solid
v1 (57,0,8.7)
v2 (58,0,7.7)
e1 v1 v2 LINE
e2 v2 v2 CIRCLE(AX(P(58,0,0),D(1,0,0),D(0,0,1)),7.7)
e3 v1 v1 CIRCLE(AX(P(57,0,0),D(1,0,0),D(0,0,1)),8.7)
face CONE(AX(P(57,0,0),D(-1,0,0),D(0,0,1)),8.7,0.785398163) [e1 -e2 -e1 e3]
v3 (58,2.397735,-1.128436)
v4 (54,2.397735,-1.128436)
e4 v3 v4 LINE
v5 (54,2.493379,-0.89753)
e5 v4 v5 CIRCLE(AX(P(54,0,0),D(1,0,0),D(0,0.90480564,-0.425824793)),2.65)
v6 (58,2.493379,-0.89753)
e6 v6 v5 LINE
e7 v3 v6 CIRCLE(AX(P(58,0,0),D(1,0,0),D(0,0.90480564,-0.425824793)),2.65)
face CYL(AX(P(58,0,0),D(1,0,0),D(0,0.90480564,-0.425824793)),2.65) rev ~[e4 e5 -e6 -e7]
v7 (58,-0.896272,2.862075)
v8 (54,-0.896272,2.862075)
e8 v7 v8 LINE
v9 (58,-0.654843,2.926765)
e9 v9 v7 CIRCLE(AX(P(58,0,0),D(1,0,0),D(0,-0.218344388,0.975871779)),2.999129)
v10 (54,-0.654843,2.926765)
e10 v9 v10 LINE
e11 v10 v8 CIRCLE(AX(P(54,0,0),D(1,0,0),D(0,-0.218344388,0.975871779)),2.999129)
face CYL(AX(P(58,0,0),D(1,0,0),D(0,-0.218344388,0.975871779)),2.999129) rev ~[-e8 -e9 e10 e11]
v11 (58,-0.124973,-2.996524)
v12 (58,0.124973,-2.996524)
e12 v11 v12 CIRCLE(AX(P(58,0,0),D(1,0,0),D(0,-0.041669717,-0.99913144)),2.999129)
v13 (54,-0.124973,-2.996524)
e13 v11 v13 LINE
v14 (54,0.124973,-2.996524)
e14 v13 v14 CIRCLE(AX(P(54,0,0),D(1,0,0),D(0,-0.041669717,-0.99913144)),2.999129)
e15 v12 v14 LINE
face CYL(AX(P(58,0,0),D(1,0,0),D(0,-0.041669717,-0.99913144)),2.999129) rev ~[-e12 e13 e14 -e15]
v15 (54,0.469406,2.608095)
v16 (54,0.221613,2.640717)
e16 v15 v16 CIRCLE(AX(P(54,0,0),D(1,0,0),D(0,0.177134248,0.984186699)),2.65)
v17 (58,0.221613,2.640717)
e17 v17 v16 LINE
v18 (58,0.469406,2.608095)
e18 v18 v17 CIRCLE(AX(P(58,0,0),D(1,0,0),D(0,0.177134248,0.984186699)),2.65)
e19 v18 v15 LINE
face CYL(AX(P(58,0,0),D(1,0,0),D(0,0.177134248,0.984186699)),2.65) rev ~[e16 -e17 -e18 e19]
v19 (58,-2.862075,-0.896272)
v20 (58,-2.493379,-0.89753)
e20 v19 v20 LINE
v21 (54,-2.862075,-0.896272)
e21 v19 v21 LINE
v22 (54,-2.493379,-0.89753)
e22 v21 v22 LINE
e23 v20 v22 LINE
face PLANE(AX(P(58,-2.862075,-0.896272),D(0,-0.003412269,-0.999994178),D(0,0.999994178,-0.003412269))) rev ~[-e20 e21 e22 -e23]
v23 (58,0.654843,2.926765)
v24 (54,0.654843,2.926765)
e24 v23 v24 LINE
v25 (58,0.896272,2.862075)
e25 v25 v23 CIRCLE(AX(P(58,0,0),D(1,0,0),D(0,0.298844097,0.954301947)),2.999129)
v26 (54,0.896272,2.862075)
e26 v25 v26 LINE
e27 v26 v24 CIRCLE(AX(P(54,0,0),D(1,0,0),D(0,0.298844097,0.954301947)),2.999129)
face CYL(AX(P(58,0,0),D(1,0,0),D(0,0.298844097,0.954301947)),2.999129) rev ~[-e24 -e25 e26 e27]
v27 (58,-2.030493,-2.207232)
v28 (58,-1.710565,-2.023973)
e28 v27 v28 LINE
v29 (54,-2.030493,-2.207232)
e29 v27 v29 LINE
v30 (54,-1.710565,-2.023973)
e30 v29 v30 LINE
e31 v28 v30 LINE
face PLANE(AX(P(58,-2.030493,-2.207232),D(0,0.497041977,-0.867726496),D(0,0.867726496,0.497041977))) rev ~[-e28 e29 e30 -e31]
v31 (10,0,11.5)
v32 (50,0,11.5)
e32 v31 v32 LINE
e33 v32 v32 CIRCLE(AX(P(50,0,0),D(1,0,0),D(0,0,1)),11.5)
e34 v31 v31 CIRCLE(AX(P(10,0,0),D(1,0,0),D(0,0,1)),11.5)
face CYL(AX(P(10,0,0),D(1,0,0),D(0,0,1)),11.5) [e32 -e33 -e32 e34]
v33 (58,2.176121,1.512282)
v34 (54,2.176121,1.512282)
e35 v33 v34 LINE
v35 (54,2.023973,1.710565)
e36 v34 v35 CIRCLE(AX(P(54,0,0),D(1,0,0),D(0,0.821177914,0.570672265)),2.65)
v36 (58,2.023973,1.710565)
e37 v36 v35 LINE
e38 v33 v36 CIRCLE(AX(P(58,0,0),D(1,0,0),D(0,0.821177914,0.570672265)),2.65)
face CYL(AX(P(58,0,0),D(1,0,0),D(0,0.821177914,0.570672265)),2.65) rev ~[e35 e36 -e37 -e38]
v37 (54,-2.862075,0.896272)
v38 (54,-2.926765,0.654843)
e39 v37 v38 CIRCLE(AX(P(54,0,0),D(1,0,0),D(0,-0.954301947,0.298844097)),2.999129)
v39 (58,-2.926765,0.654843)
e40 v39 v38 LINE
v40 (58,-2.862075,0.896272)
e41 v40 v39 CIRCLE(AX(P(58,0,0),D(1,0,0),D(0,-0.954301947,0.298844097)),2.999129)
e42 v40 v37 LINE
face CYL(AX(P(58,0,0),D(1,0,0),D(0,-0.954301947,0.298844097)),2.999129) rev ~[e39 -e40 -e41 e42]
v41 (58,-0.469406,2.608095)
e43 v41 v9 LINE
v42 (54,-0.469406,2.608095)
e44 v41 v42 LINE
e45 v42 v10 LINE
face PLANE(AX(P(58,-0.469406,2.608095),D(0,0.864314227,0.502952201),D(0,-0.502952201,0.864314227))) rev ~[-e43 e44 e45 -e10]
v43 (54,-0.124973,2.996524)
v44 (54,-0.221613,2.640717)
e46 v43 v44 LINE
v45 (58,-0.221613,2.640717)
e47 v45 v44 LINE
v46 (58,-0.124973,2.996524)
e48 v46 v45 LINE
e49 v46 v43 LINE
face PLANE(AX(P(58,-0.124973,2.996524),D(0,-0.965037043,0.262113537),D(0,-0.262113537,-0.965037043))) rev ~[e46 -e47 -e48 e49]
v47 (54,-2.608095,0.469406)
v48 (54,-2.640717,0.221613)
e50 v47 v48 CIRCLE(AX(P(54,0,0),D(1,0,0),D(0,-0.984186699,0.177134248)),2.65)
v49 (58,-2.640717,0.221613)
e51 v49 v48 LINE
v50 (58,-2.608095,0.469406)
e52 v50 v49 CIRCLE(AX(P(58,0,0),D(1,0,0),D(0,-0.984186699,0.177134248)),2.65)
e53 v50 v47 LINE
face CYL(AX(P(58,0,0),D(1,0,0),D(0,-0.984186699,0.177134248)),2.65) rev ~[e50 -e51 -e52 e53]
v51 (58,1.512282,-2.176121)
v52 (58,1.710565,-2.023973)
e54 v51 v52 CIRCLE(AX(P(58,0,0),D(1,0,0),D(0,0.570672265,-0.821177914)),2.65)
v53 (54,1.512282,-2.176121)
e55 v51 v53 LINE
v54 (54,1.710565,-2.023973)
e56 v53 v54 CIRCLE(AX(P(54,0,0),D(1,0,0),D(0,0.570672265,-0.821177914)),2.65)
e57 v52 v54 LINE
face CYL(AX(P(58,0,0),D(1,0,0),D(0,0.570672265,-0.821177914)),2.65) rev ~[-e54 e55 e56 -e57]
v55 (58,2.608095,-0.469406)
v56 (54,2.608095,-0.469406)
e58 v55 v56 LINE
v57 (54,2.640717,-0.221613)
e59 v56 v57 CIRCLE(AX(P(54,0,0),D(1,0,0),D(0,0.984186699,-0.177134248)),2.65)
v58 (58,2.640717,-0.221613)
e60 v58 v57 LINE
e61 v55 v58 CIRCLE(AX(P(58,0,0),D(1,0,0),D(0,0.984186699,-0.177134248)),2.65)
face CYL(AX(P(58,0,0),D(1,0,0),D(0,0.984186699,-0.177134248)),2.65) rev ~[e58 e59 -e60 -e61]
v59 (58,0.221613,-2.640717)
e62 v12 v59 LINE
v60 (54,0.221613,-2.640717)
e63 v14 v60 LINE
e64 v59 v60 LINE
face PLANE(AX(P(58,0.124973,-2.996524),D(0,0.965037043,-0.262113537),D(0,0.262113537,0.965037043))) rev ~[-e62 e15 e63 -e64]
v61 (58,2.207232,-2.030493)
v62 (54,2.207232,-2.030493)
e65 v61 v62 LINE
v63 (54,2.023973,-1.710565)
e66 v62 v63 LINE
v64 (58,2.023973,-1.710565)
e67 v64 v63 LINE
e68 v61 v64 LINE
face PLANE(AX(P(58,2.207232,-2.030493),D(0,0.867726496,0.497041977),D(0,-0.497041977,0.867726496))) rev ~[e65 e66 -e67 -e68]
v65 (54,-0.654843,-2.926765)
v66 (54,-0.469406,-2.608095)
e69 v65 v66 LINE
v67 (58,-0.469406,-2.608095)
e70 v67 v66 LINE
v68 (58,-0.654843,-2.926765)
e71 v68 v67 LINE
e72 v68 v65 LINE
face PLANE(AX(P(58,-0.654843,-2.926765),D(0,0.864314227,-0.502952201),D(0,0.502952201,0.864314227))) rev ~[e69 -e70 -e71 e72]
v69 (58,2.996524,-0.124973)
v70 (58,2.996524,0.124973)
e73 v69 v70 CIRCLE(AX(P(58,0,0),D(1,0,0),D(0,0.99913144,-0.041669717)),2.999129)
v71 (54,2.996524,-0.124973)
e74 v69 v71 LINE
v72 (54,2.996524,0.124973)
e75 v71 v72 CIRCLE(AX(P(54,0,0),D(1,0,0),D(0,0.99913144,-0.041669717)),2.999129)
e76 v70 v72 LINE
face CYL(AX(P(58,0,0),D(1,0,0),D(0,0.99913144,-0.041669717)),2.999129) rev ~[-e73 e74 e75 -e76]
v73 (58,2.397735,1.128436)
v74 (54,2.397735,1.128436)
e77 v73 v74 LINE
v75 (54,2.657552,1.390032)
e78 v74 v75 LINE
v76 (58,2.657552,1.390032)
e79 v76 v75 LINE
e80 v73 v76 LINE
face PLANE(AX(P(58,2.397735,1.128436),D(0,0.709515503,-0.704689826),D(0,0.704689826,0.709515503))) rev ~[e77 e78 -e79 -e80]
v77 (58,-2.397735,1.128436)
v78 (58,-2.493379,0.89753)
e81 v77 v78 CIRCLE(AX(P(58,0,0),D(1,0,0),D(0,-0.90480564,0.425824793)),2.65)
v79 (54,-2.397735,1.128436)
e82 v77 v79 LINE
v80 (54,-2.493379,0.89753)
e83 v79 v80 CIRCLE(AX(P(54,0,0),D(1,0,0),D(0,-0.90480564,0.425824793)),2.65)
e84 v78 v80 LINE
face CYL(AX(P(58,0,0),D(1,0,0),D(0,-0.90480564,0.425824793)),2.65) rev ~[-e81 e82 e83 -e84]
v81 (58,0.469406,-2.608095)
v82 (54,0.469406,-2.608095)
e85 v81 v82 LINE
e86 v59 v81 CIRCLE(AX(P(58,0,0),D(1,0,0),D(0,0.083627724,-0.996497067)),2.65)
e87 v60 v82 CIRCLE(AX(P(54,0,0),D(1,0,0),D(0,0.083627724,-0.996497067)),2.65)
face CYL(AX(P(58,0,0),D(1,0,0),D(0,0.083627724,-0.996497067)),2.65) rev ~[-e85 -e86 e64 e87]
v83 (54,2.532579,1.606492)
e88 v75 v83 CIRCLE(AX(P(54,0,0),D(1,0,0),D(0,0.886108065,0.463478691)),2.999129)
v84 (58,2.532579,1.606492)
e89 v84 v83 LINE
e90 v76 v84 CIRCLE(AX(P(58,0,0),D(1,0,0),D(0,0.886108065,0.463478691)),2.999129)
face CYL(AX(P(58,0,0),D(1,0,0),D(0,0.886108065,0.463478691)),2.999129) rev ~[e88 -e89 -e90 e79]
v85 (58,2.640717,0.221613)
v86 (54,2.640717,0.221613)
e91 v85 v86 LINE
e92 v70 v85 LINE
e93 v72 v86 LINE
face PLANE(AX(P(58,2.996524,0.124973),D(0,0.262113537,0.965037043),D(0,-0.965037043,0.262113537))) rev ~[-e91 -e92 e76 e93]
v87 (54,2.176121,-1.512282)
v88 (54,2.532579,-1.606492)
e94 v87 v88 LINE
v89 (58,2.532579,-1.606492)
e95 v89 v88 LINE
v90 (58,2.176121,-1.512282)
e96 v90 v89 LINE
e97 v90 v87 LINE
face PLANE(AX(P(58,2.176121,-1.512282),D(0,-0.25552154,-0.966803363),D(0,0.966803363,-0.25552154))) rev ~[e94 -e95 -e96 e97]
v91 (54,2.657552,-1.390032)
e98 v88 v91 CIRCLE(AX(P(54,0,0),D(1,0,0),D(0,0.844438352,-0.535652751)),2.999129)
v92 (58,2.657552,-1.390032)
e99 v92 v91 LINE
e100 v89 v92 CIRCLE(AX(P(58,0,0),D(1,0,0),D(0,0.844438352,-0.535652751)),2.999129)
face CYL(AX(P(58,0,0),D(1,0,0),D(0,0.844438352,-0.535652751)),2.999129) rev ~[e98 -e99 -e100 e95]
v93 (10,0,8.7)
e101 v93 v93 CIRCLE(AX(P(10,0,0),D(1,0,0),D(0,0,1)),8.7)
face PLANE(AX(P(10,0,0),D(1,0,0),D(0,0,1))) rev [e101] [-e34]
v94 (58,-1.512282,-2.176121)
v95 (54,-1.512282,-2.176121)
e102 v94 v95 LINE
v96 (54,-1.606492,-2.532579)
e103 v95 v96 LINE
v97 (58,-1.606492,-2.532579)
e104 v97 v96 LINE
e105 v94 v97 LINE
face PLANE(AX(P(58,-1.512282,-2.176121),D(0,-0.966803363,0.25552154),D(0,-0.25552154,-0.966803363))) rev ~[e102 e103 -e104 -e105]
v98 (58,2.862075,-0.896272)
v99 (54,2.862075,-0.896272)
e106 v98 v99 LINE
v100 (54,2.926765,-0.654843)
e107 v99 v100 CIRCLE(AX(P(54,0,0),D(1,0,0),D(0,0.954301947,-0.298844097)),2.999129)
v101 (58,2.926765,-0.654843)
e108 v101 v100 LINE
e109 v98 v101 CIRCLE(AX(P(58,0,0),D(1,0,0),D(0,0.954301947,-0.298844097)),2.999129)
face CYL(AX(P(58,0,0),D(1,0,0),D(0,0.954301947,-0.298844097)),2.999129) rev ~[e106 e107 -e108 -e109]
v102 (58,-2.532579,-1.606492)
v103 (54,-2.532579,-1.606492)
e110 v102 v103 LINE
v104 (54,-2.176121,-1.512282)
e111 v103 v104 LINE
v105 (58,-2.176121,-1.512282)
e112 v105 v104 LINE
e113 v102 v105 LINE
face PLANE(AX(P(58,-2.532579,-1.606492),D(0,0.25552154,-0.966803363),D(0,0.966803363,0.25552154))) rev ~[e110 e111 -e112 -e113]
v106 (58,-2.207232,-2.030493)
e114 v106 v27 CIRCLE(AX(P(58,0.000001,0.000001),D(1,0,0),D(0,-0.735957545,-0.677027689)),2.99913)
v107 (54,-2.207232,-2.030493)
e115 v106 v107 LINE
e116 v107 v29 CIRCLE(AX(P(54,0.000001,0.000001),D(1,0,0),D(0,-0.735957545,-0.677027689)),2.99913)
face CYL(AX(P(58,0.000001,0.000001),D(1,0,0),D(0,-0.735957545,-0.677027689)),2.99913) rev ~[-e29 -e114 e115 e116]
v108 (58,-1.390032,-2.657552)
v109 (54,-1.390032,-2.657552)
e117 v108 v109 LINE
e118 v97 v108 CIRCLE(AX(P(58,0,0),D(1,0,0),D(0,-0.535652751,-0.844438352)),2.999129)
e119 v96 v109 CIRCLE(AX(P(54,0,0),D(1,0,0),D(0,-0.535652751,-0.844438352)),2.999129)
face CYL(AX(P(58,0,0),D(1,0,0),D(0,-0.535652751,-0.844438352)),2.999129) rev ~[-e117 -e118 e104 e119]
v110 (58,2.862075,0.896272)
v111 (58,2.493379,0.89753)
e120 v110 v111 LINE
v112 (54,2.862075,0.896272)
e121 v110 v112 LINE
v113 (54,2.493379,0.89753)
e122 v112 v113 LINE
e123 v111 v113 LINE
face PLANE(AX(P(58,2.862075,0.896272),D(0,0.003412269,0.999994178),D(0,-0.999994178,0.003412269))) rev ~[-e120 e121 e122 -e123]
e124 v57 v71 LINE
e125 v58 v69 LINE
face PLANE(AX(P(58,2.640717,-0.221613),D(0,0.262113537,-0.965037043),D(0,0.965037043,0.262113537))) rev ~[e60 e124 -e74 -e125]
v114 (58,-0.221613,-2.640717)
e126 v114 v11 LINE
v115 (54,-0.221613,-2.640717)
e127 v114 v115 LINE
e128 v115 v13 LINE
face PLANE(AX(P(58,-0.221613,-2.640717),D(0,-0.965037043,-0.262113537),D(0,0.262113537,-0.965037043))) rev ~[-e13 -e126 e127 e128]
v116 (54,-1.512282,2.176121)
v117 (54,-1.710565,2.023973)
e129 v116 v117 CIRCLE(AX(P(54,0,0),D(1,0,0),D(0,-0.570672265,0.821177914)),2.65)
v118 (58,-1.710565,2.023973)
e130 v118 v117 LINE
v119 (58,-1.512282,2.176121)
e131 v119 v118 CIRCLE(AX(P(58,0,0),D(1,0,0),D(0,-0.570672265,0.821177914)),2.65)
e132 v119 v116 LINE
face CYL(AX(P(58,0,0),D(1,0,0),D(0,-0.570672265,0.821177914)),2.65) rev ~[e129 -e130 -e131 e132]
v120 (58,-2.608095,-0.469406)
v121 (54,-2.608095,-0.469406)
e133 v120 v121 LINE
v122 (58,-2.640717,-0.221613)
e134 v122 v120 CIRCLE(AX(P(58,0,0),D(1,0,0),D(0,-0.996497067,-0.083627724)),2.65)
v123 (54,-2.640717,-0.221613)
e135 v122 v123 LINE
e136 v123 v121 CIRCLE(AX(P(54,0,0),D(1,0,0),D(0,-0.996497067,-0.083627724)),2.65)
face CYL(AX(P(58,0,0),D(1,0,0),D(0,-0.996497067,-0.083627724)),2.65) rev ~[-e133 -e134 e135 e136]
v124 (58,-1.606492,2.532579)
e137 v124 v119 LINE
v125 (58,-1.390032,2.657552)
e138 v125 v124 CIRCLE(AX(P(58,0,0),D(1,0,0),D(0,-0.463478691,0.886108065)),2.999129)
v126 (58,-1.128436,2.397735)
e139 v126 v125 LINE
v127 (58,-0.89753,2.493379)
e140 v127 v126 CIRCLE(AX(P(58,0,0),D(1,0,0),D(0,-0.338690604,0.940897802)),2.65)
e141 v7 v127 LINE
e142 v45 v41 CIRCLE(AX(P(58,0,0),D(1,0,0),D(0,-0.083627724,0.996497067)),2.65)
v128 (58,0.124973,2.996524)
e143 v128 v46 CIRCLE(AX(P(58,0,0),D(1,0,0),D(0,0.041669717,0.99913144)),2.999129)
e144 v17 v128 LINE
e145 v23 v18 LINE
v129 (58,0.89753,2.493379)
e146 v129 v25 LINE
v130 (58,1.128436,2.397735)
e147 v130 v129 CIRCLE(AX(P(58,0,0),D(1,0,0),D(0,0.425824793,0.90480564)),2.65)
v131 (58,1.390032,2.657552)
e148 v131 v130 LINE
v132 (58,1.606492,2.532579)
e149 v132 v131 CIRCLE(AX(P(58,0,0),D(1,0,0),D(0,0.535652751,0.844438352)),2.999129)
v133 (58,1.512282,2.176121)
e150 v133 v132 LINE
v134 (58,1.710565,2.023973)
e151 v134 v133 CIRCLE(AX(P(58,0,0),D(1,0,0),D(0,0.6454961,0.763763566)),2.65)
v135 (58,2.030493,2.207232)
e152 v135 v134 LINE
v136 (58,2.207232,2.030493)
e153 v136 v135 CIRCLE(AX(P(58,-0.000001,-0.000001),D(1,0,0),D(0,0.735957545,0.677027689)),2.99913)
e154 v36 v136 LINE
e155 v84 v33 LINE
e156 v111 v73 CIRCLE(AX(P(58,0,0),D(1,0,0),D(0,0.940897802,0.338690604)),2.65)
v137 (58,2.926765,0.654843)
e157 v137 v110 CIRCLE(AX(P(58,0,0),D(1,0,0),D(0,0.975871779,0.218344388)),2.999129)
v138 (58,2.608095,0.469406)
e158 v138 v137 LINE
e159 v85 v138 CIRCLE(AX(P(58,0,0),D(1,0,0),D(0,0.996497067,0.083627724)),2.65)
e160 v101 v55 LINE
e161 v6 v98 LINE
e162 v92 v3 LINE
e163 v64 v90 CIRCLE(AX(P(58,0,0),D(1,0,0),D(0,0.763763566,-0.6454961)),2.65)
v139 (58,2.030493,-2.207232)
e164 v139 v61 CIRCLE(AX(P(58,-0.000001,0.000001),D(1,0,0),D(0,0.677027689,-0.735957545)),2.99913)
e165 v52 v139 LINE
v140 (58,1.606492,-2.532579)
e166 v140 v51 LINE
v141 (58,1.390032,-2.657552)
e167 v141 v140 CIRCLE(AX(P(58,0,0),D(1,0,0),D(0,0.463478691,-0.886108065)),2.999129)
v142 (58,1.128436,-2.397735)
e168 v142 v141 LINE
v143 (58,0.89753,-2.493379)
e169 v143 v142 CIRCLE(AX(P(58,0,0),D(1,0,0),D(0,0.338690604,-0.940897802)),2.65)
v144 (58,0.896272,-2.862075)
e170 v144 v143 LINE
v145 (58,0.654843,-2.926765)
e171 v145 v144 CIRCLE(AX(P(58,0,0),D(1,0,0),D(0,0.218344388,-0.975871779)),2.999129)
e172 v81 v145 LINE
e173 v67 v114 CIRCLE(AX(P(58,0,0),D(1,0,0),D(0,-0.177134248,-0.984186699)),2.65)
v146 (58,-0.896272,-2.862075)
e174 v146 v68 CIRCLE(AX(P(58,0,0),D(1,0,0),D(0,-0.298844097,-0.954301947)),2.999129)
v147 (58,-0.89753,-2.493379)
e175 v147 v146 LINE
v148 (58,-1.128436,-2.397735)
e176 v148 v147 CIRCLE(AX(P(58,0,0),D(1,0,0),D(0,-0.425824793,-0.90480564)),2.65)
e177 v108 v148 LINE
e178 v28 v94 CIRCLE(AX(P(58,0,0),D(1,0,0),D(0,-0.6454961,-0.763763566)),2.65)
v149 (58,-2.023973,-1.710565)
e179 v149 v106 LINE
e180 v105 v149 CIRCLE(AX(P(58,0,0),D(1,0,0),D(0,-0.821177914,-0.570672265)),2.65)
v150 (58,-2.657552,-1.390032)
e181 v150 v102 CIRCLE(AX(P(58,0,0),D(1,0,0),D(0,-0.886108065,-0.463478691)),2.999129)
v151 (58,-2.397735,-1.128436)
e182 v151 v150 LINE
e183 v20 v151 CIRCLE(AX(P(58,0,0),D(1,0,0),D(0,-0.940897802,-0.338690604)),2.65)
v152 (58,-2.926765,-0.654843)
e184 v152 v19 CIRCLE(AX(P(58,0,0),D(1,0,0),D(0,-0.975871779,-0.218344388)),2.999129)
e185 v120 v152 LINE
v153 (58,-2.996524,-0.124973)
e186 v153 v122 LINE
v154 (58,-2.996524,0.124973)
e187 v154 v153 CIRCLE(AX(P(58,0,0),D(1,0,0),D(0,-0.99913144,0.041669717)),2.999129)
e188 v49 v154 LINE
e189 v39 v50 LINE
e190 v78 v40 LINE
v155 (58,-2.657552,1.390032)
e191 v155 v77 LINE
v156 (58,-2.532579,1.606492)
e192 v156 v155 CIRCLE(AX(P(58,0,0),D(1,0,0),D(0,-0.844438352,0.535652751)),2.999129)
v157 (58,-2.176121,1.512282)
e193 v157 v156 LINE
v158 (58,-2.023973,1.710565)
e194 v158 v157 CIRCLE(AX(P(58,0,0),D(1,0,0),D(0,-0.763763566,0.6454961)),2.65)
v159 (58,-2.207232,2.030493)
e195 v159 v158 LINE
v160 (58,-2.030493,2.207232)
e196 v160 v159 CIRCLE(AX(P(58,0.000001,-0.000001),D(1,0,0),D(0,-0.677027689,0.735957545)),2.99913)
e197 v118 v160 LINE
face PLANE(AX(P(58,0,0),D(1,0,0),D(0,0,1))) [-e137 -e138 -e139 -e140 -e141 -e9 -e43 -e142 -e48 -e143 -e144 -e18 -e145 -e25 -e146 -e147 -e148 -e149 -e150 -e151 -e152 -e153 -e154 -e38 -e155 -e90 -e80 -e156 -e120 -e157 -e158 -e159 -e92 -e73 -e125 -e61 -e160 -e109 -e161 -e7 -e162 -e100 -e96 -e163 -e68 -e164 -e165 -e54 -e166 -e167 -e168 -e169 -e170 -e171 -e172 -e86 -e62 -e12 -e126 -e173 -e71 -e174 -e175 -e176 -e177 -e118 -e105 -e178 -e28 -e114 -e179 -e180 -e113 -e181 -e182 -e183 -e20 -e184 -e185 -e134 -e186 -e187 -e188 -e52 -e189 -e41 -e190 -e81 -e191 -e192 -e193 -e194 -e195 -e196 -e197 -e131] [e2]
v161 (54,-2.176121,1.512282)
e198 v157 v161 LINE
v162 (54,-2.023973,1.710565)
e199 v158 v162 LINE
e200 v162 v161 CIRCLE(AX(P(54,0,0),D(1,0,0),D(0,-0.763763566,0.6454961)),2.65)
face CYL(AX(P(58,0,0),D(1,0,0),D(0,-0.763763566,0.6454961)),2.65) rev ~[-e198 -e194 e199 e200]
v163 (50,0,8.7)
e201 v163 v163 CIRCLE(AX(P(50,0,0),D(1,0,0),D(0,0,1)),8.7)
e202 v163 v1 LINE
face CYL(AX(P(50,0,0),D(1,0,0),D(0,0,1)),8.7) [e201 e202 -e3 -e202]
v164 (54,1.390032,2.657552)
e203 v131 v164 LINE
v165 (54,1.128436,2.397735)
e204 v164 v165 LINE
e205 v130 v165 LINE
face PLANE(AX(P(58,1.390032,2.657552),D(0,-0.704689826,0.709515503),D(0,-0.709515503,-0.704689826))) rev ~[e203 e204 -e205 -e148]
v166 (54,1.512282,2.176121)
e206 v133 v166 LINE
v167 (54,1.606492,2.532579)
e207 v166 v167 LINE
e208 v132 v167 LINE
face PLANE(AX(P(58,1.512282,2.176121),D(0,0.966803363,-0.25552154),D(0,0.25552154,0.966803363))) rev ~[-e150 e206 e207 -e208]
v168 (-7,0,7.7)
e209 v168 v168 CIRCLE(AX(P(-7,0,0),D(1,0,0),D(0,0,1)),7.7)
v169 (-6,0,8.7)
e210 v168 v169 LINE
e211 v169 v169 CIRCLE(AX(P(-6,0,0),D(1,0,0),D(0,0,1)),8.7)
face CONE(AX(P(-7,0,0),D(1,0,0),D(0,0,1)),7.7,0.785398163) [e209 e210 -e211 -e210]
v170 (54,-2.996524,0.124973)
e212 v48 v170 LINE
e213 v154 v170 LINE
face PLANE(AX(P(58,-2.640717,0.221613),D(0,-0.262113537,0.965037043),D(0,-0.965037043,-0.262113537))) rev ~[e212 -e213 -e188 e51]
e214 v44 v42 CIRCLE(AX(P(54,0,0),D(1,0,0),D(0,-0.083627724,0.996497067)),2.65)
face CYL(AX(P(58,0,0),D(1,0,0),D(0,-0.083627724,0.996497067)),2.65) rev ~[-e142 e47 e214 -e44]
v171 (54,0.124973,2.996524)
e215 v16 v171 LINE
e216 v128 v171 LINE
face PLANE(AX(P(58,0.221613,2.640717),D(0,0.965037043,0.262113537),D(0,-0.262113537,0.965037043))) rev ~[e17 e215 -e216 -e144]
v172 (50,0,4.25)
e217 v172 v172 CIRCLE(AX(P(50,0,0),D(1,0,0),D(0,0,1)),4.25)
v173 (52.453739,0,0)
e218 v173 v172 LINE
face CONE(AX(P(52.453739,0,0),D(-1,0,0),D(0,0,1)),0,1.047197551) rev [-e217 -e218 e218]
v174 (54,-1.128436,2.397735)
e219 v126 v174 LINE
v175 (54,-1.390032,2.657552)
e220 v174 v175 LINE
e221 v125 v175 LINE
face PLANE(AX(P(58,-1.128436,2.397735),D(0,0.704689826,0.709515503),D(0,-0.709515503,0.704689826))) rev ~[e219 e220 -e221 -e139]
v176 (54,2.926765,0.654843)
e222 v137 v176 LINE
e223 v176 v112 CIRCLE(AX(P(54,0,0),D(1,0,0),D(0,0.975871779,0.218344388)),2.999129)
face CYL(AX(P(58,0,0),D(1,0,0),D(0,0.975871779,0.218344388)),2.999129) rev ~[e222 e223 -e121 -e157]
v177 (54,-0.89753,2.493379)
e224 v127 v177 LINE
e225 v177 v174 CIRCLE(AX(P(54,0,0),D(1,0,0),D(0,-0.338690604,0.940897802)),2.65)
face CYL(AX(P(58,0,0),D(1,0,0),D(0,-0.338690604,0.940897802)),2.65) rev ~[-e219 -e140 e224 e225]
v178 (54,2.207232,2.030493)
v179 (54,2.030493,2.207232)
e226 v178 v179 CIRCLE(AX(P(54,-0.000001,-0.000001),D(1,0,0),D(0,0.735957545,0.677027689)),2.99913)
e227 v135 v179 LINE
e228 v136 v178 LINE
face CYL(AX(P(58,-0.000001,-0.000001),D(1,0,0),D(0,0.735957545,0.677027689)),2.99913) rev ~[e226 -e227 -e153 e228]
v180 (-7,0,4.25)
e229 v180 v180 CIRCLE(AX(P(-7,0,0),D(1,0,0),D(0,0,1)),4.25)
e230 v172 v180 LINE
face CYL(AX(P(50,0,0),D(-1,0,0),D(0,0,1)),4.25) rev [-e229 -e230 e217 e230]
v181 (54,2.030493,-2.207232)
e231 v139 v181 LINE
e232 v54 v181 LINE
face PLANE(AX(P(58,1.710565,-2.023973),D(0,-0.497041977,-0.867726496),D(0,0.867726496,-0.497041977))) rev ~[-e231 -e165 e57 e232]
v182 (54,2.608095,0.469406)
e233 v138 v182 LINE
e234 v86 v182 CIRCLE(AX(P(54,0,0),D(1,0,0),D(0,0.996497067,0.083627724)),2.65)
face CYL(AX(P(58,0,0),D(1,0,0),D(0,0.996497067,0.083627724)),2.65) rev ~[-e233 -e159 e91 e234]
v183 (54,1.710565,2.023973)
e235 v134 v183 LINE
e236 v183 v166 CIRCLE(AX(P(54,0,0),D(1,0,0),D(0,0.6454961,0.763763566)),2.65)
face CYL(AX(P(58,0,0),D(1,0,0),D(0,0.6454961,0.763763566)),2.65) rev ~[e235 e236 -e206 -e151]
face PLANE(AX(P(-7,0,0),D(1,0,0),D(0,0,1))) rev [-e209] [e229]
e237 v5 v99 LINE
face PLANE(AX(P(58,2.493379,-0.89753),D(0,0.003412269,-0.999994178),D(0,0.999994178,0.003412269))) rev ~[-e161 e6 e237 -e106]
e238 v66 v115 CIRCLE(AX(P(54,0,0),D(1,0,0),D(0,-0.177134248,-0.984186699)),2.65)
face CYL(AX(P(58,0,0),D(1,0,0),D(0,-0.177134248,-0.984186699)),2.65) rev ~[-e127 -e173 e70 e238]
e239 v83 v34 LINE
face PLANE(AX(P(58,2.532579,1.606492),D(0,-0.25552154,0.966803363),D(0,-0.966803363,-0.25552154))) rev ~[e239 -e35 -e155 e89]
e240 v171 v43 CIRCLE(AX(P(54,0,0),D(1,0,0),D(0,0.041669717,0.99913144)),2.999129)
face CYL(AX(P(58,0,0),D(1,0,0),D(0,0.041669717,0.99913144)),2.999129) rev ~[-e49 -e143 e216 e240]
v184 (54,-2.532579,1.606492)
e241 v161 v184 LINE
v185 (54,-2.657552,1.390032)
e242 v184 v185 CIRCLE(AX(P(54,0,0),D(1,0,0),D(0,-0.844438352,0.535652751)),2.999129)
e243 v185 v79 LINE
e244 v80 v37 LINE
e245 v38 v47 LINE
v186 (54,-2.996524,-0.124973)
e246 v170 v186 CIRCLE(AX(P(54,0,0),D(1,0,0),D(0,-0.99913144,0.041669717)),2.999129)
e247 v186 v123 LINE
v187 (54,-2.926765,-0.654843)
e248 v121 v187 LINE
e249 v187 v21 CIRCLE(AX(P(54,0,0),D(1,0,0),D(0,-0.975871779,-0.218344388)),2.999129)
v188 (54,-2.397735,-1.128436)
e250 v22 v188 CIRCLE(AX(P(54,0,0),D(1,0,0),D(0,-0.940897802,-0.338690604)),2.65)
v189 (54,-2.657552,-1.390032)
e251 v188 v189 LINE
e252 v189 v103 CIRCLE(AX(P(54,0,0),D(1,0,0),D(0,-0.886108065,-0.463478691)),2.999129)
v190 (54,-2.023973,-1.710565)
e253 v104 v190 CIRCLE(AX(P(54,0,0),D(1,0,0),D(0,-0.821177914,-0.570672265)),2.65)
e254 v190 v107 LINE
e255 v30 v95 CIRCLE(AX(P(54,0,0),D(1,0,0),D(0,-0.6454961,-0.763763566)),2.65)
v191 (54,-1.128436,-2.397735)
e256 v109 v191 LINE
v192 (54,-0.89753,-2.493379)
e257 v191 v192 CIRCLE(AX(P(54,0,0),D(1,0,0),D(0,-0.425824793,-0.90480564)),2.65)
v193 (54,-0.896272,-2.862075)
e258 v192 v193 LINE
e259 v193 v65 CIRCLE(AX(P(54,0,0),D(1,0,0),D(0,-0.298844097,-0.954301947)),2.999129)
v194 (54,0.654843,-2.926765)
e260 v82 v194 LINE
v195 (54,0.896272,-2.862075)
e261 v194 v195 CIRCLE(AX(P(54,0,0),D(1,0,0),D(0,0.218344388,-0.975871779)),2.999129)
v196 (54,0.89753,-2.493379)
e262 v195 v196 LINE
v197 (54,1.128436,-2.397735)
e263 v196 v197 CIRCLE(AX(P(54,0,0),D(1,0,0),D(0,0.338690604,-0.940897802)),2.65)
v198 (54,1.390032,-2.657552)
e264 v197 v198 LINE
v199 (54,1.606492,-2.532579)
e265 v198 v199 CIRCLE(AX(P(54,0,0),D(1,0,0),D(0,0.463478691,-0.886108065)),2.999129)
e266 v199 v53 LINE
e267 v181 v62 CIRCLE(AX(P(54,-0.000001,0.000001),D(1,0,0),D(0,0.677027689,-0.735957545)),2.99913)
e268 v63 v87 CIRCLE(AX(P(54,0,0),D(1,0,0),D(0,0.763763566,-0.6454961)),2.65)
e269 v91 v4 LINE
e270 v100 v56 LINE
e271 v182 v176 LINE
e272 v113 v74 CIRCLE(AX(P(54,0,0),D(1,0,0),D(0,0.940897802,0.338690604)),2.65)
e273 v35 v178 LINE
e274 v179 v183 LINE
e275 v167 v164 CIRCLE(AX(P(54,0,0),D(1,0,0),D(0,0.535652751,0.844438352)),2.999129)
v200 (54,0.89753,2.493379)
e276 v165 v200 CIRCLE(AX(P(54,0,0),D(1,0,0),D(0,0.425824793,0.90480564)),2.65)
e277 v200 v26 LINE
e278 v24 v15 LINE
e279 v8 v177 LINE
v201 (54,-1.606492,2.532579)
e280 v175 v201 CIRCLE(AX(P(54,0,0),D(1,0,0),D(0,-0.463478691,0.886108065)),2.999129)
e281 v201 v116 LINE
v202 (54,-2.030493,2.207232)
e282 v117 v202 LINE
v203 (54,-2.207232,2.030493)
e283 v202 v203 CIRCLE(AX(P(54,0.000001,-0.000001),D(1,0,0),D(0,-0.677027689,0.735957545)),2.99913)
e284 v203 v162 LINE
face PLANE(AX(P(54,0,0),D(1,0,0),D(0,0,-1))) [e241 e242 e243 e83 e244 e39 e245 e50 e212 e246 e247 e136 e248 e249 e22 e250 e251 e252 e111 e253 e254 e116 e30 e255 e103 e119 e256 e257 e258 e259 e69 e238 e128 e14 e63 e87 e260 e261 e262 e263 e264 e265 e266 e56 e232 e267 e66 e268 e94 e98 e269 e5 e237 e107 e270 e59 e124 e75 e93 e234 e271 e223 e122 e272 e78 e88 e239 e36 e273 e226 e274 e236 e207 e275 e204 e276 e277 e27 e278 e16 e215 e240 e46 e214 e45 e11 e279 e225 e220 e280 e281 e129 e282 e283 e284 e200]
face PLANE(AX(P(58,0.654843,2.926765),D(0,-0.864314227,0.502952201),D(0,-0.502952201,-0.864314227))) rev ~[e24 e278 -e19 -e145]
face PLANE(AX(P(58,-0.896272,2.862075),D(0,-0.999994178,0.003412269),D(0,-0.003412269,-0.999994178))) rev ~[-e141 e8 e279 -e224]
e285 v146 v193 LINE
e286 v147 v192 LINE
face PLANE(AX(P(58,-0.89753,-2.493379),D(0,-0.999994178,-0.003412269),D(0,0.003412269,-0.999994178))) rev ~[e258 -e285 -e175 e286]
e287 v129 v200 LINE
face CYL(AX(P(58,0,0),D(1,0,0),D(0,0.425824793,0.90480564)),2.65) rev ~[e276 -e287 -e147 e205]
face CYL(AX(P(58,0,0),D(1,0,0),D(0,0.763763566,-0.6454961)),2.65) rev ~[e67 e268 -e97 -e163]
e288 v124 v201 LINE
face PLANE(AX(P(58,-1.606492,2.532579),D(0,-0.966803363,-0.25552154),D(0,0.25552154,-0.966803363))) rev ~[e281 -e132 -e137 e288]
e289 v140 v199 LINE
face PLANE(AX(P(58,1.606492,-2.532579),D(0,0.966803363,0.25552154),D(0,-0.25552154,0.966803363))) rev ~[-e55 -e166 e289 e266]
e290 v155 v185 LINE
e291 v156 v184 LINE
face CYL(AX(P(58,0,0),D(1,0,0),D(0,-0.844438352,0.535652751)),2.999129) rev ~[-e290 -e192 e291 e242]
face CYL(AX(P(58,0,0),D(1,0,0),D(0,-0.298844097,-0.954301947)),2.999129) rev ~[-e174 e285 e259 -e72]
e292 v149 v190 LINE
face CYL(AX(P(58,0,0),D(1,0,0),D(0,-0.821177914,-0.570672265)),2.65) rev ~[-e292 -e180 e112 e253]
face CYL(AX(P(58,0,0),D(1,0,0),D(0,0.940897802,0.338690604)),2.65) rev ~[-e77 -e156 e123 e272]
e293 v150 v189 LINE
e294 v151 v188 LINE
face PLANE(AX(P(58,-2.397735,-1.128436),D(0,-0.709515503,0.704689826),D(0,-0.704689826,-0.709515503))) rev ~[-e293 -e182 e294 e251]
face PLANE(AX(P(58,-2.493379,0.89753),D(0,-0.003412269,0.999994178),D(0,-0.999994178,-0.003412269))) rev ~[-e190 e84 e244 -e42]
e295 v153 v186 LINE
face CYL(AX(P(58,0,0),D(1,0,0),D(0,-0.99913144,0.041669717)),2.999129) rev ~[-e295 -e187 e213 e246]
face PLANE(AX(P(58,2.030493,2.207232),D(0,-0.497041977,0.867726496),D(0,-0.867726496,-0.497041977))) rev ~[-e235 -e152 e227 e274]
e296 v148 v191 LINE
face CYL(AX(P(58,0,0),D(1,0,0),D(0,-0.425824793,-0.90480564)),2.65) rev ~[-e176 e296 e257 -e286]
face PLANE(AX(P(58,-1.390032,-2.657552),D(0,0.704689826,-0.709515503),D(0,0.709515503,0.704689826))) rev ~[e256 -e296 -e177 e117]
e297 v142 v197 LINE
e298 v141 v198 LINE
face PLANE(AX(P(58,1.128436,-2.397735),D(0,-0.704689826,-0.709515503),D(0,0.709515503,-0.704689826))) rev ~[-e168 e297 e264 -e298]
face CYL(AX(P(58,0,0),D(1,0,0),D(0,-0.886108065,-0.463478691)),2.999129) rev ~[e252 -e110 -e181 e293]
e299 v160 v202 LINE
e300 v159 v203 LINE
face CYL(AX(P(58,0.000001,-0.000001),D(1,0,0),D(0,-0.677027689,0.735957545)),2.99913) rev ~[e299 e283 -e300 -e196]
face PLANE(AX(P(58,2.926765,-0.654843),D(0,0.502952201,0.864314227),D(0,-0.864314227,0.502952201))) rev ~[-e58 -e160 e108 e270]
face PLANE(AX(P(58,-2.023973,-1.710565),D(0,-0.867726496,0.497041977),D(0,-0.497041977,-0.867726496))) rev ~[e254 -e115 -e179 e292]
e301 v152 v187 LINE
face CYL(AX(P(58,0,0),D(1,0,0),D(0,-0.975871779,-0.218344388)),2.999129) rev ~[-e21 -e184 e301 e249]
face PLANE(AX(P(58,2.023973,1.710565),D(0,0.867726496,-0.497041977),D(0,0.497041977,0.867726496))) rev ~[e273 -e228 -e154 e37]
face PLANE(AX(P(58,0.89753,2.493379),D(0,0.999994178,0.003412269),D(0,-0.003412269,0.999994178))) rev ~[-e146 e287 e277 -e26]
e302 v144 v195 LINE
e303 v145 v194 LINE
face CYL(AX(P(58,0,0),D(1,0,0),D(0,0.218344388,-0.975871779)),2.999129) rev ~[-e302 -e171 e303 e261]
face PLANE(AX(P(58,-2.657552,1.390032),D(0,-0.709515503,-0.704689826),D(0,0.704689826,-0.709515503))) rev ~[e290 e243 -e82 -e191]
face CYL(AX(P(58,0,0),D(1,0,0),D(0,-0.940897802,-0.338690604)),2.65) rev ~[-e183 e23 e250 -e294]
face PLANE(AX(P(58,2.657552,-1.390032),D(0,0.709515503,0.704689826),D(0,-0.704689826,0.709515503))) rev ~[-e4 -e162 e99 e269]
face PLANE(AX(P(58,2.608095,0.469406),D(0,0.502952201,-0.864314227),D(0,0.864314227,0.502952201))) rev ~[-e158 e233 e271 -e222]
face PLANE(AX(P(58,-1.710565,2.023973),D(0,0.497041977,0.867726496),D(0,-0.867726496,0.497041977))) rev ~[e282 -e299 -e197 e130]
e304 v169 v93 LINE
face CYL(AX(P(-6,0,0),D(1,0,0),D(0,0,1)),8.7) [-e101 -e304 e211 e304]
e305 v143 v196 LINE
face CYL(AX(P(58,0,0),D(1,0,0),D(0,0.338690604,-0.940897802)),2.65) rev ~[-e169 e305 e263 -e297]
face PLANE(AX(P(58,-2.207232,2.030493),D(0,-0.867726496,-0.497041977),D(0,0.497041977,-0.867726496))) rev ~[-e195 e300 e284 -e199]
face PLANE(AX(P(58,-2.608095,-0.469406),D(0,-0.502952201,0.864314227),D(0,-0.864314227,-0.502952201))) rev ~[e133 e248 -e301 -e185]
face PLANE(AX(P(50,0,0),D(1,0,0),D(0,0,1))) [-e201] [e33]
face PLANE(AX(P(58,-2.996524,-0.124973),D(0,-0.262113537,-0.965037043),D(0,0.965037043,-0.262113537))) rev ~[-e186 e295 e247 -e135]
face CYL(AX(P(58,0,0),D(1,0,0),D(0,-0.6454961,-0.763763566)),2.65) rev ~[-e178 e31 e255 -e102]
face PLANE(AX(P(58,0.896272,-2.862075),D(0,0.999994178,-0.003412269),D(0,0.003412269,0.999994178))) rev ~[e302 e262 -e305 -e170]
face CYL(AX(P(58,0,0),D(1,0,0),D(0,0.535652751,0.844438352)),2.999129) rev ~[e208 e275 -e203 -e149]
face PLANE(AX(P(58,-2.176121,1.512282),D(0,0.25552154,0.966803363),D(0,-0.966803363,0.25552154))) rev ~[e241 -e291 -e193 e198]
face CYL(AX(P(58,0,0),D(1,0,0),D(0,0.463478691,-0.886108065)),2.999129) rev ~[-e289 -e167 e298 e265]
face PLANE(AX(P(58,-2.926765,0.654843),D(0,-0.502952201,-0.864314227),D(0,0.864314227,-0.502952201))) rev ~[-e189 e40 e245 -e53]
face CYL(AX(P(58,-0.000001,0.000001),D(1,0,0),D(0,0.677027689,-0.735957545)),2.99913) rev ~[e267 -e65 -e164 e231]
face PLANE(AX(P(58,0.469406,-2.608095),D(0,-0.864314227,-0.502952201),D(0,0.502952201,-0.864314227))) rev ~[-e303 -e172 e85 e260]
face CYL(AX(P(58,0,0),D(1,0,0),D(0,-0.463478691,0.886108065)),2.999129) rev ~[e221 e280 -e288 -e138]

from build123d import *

# Parameters (mm, degrees)
CUT_EXTRUDE_1_DEPTH = 4


with BuildPart() as part:
    # Эскиз3 → Повернуть1 (revolve)
    with BuildSketch(Plane.XY, mode=Mode.PRIVATE) as revolve_1_sk:
        Polygon((-7, 4.25), (-7, 7.7), (-6, 8.7), (10, 8.7), (10, 11.5), (50, 11.5), (50, 8.7), (57, 8.7), (58, 7.7), (58, 0), (52.453738644, 0), (50, 4.25), align=None)
    revolve(revolve_1_sk.sketch.rotate(Axis((-6.877569373, 0, 0), (1, 0, 0)), 90), axis=Axis((-6.877569373, 0, 0), (1, 0, 0)))

    # Эскиз4 → Вырез-Вытянуть1 (cut)
    with BuildSketch(Plane(origin=(58, 0, -31), x_dir=(0, 0, 1), z_dir=(-1, 0, 0))):
        with BuildLine():
            Line((30.778386531, 2.640717227), (30.875027145, 2.996524002))
            ThreePointArc((30.875027145, 2.996524002), (31, 2.999128925), (31.124972855, 2.996524002))
            Line((31.124972855, 2.996524002), (31.221613469, 2.640717227))
            ThreePointArc((31.221613469, 2.640717227), (31.345894409, 2.627328883), (31.469405738, 2.608094755))
            Line((31.469405738, 2.608094755), (31.654842973, 2.926765277))
            ThreePointArc((31.654842973, 2.926765277), (31.776231684, 2.896936085), (31.896271989, 2.862074568))
            Line((31.896271989, 2.862074568), (31.897530084, 2.493379183))
            ThreePointArc((31.897530084, 2.493379183), (32.014111096, 2.448280761), (32.12843572, 2.397734937))
            Line((32.12843572, 2.397734937), (32.390032334, 2.657552336))
            ThreePointArc((32.390032334, 2.657552336), (32.499564462, 2.597321838), (32.606491668, 2.532579481))
            Line((32.606491668, 2.532579481), (32.512281507, 2.176121468))
            ThreePointArc((32.512281507, 2.176121468), (32.613217787, 2.102386352), (32.710564672, 2.023973445))
            Line((32.710564672, 2.023973445), (33.030493289, 2.207231595))
            ThreePointArc((33.030493289, 2.207231595), (33.1207044, 2.1207044), (33.207231595, 2.030493289))
            Line((33.207231595, 2.030493289), (33.023973445, 1.710564672))
            ThreePointArc((33.023973445, 1.710564672), (33.102386352, 1.613217787), (33.176121468, 1.512281507))
            Line((33.176121468, 1.512281507), (33.532579481, 1.606491668))
            ThreePointArc((33.532579481, 1.606491668), (33.597321838, 1.499564462), (33.657552336, 1.390032334))
            Line((33.657552336, 1.390032334), (33.397734937, 1.12843572))
            ThreePointArc((33.397734937, 1.12843572), (33.448280761, 1.014111096), (33.493379183, 0.897530084))
            Line((33.493379183, 0.897530084), (33.862074568, 0.896271989))
            ThreePointArc((33.862074568, 0.896271989), (33.896936085, 0.776231684), (33.926765277, 0.654842973))
            Line((33.926765277, 0.654842973), (33.608094755, 0.469405738))
            ThreePointArc((33.608094755, 0.469405738), (33.627328883, 0.345894409), (33.640717227, 0.221613469))
            Line((33.640717227, 0.221613469), (33.996524002, 0.124972855))
            ThreePointArc((33.996524002, 0.124972855), (33.999128925, 0), (33.996524002, -0.124972855))
            Line((33.996524002, -0.124972855), (33.640717227, -0.221613469))
            ThreePointArc((33.640717227, -0.221613469), (33.627328883, -0.345894409), (33.608094755, -0.469405738))
            Line((33.608094755, -0.469405738), (33.926765277, -0.654842973))
            ThreePointArc((33.926765277, -0.654842973), (33.896936085, -0.776231684), (33.862074568, -0.896271989))
            Line((33.862074568, -0.896271989), (33.493379183, -0.897530084))
            ThreePointArc((33.493379183, -0.897530084), (33.448280761, -1.014111096), (33.397734937, -1.12843572))
            Line((33.397734937, -1.12843572), (33.657552336, -1.390032334))
            ThreePointArc((33.657552336, -1.390032334), (33.597321838, -1.499564462), (33.532579481, -1.606491668))
            Line((33.532579481, -1.606491668), (33.176121468, -1.512281507))
            ThreePointArc((33.176121468, -1.512281507), (33.102386352, -1.613217787), (33.023973445, -1.710564672))
            Line((33.023973445, -1.710564672), (33.207231595, -2.030493289))
            ThreePointArc((33.207231595, -2.030493289), (33.1207044, -2.1207044), (33.030493289, -2.207231595))
            Line((33.030493289, -2.207231595), (32.710564672, -2.023973445))
            ThreePointArc((32.710564672, -2.023973445), (32.613217787, -2.102386352), (32.512281507, -2.176121468))
            Line((32.512281507, -2.176121468), (32.606491668, -2.532579481))
            ThreePointArc((32.606491668, -2.532579481), (32.499564462, -2.597321838), (32.390032334, -2.657552336))
            Line((32.390032334, -2.657552336), (32.12843572, -2.397734937))
            ThreePointArc((32.12843572, -2.397734937), (32.014111096, -2.448280761), (31.897530084, -2.493379183))
            Line((31.897530084, -2.493379183), (31.896271989, -2.862074568))
            ThreePointArc((31.896271989, -2.862074568), (31.776231684, -2.896936085), (31.654842973, -2.926765277))
            Line((31.654842973, -2.926765277), (31.469405738, -2.608094755))
            ThreePointArc((31.469405738, -2.608094755), (31.345894409, -2.627328883), (31.221613469, -2.640717227))
            Line((31.221613469, -2.640717227), (31.124972855, -2.996524002))
            ThreePointArc((31.124972855, -2.996524002), (31, -2.999128925), (30.875027145, -2.996524002))
            Line((30.875027145, -2.996524002), (30.778386531, -2.640717227))
            ThreePointArc((30.778386531, -2.640717227), (30.654105591, -2.627328883), (30.530594262, -2.608094755))
            Line((30.530594262, -2.608094755), (30.345157027, -2.926765277))
            ThreePointArc((30.345157027, -2.926765277), (30.223768316, -2.896936085), (30.103728011, -2.862074568))
            Line((30.103728011, -2.862074568), (30.102469916, -2.493379183))
            ThreePointArc((30.102469916, -2.493379183), (29.985888904, -2.448280761), (29.87156428, -2.397734937))
            Line((29.87156428, -2.397734937), (29.609967666, -2.657552336))
            ThreePointArc((29.609967666, -2.657552336), (29.500435538, -2.597321838), (29.393508332, -2.532579481))
            Line((29.393508332, -2.532579481), (29.487718493, -2.176121468))
            ThreePointArc((29.487718493, -2.176121468), (29.386782213, -2.102386352), (29.289435328, -2.023973445))
            Line((29.289435328, -2.023973445), (28.969506711, -2.207231595))
            ThreePointArc((28.969506711, -2.207231595), (28.8792956, -2.1207044), (28.792768405, -2.030493289))
            Line((28.792768405, -2.030493289), (28.976026555, -1.710564672))
            ThreePointArc((28.976026555, -1.710564672), (28.897613648, -1.613217787), (28.823878532, -1.512281507))
            Line((28.823878532, -1.512281507), (28.467420519, -1.606491668))
            ThreePointArc((28.467420519, -1.606491668), (28.402678162, -1.499564462), (28.342447664, -1.390032334))
            Line((28.342447664, -1.390032334), (28.602265063, -1.12843572))
            ThreePointArc((28.602265063, -1.12843572), (28.551719239, -1.014111096), (28.506620817, -0.897530084))
            Line((28.506620817, -0.897530084), (28.137925432, -0.896271989))
            ThreePointArc((28.137925432, -0.896271989), (28.103063915, -0.776231684), (28.073234723, -0.654842973))
            Line((28.073234723, -0.654842973), (28.391905245, -0.469405738))
            ThreePointArc((28.391905245, -0.469405738), (28.372671117, -0.345894409), (28.359282773, -0.221613469))
            Line((28.359282773, -0.221613469), (28.003475998, -0.124972855))
            ThreePointArc((28.003475998, -0.124972855), (28.000871075, 0), (28.003475998, 0.124972855))
            Line((28.003475998, 0.124972855), (28.359282773, 0.221613469))
            ThreePointArc((28.359282773, 0.221613469), (28.372671117, 0.345894409), (28.391905245, 0.469405738))
            Line((28.391905245, 0.469405738), (28.073234723, 0.654842973))
            ThreePointArc((28.073234723, 0.654842973), (28.103063915, 0.776231684), (28.137925432, 0.896271989))
            Line((28.137925432, 0.896271989), (28.506620817, 0.897530084))
            ThreePointArc((28.506620817, 0.897530084), (28.551719239, 1.014111096), (28.602265063, 1.12843572))
            Line((28.602265063, 1.12843572), (28.342447664, 1.390032334))
            ThreePointArc((28.342447664, 1.390032334), (28.402678162, 1.499564462), (28.467420519, 1.606491668))
            Line((28.467420519, 1.606491668), (28.823878532, 1.512281507))
            ThreePointArc((28.823878532, 1.512281507), (28.897613648, 1.613217787), (28.976026555, 1.710564672))
            Line((28.976026555, 1.710564672), (28.792768405, 2.030493289))
            ThreePointArc((28.792768405, 2.030493289), (28.8792956, 2.1207044), (28.969506711, 2.207231595))
            Line((28.969506711, 2.207231595), (29.289435328, 2.023973445))
            ThreePointArc((29.289435328, 2.023973445), (29.386782213, 2.102386352), (29.487718493, 2.176121468))
            Line((29.487718493, 2.176121468), (29.393508332, 2.532579481))
            ThreePointArc((29.393508332, 2.532579481), (29.500435538, 2.597321838), (29.609967666, 2.657552336))
            Line((29.609967666, 2.657552336), (29.87156428, 2.397734937))
            ThreePointArc((29.87156428, 2.397734937), (29.985888904, 2.448280761), (30.102469916, 2.493379183))
            Line((30.102469916, 2.493379183), (30.103728011, 2.862074568))
            ThreePointArc((30.103728011, 2.862074568), (30.223768316, 2.896936085), (30.345157027, 2.926765277))
            Line((30.345157027, 2.926765277), (30.530594262, 2.608094755))
            ThreePointArc((30.530594262, 2.608094755), (30.654105591, 2.627328883), (30.778386531, 2.640717227))
        make_face()
    extrude(amount=CUT_EXTRUDE_1_DEPTH, mode=Mode.SUBTRACT)


solid = part.part
